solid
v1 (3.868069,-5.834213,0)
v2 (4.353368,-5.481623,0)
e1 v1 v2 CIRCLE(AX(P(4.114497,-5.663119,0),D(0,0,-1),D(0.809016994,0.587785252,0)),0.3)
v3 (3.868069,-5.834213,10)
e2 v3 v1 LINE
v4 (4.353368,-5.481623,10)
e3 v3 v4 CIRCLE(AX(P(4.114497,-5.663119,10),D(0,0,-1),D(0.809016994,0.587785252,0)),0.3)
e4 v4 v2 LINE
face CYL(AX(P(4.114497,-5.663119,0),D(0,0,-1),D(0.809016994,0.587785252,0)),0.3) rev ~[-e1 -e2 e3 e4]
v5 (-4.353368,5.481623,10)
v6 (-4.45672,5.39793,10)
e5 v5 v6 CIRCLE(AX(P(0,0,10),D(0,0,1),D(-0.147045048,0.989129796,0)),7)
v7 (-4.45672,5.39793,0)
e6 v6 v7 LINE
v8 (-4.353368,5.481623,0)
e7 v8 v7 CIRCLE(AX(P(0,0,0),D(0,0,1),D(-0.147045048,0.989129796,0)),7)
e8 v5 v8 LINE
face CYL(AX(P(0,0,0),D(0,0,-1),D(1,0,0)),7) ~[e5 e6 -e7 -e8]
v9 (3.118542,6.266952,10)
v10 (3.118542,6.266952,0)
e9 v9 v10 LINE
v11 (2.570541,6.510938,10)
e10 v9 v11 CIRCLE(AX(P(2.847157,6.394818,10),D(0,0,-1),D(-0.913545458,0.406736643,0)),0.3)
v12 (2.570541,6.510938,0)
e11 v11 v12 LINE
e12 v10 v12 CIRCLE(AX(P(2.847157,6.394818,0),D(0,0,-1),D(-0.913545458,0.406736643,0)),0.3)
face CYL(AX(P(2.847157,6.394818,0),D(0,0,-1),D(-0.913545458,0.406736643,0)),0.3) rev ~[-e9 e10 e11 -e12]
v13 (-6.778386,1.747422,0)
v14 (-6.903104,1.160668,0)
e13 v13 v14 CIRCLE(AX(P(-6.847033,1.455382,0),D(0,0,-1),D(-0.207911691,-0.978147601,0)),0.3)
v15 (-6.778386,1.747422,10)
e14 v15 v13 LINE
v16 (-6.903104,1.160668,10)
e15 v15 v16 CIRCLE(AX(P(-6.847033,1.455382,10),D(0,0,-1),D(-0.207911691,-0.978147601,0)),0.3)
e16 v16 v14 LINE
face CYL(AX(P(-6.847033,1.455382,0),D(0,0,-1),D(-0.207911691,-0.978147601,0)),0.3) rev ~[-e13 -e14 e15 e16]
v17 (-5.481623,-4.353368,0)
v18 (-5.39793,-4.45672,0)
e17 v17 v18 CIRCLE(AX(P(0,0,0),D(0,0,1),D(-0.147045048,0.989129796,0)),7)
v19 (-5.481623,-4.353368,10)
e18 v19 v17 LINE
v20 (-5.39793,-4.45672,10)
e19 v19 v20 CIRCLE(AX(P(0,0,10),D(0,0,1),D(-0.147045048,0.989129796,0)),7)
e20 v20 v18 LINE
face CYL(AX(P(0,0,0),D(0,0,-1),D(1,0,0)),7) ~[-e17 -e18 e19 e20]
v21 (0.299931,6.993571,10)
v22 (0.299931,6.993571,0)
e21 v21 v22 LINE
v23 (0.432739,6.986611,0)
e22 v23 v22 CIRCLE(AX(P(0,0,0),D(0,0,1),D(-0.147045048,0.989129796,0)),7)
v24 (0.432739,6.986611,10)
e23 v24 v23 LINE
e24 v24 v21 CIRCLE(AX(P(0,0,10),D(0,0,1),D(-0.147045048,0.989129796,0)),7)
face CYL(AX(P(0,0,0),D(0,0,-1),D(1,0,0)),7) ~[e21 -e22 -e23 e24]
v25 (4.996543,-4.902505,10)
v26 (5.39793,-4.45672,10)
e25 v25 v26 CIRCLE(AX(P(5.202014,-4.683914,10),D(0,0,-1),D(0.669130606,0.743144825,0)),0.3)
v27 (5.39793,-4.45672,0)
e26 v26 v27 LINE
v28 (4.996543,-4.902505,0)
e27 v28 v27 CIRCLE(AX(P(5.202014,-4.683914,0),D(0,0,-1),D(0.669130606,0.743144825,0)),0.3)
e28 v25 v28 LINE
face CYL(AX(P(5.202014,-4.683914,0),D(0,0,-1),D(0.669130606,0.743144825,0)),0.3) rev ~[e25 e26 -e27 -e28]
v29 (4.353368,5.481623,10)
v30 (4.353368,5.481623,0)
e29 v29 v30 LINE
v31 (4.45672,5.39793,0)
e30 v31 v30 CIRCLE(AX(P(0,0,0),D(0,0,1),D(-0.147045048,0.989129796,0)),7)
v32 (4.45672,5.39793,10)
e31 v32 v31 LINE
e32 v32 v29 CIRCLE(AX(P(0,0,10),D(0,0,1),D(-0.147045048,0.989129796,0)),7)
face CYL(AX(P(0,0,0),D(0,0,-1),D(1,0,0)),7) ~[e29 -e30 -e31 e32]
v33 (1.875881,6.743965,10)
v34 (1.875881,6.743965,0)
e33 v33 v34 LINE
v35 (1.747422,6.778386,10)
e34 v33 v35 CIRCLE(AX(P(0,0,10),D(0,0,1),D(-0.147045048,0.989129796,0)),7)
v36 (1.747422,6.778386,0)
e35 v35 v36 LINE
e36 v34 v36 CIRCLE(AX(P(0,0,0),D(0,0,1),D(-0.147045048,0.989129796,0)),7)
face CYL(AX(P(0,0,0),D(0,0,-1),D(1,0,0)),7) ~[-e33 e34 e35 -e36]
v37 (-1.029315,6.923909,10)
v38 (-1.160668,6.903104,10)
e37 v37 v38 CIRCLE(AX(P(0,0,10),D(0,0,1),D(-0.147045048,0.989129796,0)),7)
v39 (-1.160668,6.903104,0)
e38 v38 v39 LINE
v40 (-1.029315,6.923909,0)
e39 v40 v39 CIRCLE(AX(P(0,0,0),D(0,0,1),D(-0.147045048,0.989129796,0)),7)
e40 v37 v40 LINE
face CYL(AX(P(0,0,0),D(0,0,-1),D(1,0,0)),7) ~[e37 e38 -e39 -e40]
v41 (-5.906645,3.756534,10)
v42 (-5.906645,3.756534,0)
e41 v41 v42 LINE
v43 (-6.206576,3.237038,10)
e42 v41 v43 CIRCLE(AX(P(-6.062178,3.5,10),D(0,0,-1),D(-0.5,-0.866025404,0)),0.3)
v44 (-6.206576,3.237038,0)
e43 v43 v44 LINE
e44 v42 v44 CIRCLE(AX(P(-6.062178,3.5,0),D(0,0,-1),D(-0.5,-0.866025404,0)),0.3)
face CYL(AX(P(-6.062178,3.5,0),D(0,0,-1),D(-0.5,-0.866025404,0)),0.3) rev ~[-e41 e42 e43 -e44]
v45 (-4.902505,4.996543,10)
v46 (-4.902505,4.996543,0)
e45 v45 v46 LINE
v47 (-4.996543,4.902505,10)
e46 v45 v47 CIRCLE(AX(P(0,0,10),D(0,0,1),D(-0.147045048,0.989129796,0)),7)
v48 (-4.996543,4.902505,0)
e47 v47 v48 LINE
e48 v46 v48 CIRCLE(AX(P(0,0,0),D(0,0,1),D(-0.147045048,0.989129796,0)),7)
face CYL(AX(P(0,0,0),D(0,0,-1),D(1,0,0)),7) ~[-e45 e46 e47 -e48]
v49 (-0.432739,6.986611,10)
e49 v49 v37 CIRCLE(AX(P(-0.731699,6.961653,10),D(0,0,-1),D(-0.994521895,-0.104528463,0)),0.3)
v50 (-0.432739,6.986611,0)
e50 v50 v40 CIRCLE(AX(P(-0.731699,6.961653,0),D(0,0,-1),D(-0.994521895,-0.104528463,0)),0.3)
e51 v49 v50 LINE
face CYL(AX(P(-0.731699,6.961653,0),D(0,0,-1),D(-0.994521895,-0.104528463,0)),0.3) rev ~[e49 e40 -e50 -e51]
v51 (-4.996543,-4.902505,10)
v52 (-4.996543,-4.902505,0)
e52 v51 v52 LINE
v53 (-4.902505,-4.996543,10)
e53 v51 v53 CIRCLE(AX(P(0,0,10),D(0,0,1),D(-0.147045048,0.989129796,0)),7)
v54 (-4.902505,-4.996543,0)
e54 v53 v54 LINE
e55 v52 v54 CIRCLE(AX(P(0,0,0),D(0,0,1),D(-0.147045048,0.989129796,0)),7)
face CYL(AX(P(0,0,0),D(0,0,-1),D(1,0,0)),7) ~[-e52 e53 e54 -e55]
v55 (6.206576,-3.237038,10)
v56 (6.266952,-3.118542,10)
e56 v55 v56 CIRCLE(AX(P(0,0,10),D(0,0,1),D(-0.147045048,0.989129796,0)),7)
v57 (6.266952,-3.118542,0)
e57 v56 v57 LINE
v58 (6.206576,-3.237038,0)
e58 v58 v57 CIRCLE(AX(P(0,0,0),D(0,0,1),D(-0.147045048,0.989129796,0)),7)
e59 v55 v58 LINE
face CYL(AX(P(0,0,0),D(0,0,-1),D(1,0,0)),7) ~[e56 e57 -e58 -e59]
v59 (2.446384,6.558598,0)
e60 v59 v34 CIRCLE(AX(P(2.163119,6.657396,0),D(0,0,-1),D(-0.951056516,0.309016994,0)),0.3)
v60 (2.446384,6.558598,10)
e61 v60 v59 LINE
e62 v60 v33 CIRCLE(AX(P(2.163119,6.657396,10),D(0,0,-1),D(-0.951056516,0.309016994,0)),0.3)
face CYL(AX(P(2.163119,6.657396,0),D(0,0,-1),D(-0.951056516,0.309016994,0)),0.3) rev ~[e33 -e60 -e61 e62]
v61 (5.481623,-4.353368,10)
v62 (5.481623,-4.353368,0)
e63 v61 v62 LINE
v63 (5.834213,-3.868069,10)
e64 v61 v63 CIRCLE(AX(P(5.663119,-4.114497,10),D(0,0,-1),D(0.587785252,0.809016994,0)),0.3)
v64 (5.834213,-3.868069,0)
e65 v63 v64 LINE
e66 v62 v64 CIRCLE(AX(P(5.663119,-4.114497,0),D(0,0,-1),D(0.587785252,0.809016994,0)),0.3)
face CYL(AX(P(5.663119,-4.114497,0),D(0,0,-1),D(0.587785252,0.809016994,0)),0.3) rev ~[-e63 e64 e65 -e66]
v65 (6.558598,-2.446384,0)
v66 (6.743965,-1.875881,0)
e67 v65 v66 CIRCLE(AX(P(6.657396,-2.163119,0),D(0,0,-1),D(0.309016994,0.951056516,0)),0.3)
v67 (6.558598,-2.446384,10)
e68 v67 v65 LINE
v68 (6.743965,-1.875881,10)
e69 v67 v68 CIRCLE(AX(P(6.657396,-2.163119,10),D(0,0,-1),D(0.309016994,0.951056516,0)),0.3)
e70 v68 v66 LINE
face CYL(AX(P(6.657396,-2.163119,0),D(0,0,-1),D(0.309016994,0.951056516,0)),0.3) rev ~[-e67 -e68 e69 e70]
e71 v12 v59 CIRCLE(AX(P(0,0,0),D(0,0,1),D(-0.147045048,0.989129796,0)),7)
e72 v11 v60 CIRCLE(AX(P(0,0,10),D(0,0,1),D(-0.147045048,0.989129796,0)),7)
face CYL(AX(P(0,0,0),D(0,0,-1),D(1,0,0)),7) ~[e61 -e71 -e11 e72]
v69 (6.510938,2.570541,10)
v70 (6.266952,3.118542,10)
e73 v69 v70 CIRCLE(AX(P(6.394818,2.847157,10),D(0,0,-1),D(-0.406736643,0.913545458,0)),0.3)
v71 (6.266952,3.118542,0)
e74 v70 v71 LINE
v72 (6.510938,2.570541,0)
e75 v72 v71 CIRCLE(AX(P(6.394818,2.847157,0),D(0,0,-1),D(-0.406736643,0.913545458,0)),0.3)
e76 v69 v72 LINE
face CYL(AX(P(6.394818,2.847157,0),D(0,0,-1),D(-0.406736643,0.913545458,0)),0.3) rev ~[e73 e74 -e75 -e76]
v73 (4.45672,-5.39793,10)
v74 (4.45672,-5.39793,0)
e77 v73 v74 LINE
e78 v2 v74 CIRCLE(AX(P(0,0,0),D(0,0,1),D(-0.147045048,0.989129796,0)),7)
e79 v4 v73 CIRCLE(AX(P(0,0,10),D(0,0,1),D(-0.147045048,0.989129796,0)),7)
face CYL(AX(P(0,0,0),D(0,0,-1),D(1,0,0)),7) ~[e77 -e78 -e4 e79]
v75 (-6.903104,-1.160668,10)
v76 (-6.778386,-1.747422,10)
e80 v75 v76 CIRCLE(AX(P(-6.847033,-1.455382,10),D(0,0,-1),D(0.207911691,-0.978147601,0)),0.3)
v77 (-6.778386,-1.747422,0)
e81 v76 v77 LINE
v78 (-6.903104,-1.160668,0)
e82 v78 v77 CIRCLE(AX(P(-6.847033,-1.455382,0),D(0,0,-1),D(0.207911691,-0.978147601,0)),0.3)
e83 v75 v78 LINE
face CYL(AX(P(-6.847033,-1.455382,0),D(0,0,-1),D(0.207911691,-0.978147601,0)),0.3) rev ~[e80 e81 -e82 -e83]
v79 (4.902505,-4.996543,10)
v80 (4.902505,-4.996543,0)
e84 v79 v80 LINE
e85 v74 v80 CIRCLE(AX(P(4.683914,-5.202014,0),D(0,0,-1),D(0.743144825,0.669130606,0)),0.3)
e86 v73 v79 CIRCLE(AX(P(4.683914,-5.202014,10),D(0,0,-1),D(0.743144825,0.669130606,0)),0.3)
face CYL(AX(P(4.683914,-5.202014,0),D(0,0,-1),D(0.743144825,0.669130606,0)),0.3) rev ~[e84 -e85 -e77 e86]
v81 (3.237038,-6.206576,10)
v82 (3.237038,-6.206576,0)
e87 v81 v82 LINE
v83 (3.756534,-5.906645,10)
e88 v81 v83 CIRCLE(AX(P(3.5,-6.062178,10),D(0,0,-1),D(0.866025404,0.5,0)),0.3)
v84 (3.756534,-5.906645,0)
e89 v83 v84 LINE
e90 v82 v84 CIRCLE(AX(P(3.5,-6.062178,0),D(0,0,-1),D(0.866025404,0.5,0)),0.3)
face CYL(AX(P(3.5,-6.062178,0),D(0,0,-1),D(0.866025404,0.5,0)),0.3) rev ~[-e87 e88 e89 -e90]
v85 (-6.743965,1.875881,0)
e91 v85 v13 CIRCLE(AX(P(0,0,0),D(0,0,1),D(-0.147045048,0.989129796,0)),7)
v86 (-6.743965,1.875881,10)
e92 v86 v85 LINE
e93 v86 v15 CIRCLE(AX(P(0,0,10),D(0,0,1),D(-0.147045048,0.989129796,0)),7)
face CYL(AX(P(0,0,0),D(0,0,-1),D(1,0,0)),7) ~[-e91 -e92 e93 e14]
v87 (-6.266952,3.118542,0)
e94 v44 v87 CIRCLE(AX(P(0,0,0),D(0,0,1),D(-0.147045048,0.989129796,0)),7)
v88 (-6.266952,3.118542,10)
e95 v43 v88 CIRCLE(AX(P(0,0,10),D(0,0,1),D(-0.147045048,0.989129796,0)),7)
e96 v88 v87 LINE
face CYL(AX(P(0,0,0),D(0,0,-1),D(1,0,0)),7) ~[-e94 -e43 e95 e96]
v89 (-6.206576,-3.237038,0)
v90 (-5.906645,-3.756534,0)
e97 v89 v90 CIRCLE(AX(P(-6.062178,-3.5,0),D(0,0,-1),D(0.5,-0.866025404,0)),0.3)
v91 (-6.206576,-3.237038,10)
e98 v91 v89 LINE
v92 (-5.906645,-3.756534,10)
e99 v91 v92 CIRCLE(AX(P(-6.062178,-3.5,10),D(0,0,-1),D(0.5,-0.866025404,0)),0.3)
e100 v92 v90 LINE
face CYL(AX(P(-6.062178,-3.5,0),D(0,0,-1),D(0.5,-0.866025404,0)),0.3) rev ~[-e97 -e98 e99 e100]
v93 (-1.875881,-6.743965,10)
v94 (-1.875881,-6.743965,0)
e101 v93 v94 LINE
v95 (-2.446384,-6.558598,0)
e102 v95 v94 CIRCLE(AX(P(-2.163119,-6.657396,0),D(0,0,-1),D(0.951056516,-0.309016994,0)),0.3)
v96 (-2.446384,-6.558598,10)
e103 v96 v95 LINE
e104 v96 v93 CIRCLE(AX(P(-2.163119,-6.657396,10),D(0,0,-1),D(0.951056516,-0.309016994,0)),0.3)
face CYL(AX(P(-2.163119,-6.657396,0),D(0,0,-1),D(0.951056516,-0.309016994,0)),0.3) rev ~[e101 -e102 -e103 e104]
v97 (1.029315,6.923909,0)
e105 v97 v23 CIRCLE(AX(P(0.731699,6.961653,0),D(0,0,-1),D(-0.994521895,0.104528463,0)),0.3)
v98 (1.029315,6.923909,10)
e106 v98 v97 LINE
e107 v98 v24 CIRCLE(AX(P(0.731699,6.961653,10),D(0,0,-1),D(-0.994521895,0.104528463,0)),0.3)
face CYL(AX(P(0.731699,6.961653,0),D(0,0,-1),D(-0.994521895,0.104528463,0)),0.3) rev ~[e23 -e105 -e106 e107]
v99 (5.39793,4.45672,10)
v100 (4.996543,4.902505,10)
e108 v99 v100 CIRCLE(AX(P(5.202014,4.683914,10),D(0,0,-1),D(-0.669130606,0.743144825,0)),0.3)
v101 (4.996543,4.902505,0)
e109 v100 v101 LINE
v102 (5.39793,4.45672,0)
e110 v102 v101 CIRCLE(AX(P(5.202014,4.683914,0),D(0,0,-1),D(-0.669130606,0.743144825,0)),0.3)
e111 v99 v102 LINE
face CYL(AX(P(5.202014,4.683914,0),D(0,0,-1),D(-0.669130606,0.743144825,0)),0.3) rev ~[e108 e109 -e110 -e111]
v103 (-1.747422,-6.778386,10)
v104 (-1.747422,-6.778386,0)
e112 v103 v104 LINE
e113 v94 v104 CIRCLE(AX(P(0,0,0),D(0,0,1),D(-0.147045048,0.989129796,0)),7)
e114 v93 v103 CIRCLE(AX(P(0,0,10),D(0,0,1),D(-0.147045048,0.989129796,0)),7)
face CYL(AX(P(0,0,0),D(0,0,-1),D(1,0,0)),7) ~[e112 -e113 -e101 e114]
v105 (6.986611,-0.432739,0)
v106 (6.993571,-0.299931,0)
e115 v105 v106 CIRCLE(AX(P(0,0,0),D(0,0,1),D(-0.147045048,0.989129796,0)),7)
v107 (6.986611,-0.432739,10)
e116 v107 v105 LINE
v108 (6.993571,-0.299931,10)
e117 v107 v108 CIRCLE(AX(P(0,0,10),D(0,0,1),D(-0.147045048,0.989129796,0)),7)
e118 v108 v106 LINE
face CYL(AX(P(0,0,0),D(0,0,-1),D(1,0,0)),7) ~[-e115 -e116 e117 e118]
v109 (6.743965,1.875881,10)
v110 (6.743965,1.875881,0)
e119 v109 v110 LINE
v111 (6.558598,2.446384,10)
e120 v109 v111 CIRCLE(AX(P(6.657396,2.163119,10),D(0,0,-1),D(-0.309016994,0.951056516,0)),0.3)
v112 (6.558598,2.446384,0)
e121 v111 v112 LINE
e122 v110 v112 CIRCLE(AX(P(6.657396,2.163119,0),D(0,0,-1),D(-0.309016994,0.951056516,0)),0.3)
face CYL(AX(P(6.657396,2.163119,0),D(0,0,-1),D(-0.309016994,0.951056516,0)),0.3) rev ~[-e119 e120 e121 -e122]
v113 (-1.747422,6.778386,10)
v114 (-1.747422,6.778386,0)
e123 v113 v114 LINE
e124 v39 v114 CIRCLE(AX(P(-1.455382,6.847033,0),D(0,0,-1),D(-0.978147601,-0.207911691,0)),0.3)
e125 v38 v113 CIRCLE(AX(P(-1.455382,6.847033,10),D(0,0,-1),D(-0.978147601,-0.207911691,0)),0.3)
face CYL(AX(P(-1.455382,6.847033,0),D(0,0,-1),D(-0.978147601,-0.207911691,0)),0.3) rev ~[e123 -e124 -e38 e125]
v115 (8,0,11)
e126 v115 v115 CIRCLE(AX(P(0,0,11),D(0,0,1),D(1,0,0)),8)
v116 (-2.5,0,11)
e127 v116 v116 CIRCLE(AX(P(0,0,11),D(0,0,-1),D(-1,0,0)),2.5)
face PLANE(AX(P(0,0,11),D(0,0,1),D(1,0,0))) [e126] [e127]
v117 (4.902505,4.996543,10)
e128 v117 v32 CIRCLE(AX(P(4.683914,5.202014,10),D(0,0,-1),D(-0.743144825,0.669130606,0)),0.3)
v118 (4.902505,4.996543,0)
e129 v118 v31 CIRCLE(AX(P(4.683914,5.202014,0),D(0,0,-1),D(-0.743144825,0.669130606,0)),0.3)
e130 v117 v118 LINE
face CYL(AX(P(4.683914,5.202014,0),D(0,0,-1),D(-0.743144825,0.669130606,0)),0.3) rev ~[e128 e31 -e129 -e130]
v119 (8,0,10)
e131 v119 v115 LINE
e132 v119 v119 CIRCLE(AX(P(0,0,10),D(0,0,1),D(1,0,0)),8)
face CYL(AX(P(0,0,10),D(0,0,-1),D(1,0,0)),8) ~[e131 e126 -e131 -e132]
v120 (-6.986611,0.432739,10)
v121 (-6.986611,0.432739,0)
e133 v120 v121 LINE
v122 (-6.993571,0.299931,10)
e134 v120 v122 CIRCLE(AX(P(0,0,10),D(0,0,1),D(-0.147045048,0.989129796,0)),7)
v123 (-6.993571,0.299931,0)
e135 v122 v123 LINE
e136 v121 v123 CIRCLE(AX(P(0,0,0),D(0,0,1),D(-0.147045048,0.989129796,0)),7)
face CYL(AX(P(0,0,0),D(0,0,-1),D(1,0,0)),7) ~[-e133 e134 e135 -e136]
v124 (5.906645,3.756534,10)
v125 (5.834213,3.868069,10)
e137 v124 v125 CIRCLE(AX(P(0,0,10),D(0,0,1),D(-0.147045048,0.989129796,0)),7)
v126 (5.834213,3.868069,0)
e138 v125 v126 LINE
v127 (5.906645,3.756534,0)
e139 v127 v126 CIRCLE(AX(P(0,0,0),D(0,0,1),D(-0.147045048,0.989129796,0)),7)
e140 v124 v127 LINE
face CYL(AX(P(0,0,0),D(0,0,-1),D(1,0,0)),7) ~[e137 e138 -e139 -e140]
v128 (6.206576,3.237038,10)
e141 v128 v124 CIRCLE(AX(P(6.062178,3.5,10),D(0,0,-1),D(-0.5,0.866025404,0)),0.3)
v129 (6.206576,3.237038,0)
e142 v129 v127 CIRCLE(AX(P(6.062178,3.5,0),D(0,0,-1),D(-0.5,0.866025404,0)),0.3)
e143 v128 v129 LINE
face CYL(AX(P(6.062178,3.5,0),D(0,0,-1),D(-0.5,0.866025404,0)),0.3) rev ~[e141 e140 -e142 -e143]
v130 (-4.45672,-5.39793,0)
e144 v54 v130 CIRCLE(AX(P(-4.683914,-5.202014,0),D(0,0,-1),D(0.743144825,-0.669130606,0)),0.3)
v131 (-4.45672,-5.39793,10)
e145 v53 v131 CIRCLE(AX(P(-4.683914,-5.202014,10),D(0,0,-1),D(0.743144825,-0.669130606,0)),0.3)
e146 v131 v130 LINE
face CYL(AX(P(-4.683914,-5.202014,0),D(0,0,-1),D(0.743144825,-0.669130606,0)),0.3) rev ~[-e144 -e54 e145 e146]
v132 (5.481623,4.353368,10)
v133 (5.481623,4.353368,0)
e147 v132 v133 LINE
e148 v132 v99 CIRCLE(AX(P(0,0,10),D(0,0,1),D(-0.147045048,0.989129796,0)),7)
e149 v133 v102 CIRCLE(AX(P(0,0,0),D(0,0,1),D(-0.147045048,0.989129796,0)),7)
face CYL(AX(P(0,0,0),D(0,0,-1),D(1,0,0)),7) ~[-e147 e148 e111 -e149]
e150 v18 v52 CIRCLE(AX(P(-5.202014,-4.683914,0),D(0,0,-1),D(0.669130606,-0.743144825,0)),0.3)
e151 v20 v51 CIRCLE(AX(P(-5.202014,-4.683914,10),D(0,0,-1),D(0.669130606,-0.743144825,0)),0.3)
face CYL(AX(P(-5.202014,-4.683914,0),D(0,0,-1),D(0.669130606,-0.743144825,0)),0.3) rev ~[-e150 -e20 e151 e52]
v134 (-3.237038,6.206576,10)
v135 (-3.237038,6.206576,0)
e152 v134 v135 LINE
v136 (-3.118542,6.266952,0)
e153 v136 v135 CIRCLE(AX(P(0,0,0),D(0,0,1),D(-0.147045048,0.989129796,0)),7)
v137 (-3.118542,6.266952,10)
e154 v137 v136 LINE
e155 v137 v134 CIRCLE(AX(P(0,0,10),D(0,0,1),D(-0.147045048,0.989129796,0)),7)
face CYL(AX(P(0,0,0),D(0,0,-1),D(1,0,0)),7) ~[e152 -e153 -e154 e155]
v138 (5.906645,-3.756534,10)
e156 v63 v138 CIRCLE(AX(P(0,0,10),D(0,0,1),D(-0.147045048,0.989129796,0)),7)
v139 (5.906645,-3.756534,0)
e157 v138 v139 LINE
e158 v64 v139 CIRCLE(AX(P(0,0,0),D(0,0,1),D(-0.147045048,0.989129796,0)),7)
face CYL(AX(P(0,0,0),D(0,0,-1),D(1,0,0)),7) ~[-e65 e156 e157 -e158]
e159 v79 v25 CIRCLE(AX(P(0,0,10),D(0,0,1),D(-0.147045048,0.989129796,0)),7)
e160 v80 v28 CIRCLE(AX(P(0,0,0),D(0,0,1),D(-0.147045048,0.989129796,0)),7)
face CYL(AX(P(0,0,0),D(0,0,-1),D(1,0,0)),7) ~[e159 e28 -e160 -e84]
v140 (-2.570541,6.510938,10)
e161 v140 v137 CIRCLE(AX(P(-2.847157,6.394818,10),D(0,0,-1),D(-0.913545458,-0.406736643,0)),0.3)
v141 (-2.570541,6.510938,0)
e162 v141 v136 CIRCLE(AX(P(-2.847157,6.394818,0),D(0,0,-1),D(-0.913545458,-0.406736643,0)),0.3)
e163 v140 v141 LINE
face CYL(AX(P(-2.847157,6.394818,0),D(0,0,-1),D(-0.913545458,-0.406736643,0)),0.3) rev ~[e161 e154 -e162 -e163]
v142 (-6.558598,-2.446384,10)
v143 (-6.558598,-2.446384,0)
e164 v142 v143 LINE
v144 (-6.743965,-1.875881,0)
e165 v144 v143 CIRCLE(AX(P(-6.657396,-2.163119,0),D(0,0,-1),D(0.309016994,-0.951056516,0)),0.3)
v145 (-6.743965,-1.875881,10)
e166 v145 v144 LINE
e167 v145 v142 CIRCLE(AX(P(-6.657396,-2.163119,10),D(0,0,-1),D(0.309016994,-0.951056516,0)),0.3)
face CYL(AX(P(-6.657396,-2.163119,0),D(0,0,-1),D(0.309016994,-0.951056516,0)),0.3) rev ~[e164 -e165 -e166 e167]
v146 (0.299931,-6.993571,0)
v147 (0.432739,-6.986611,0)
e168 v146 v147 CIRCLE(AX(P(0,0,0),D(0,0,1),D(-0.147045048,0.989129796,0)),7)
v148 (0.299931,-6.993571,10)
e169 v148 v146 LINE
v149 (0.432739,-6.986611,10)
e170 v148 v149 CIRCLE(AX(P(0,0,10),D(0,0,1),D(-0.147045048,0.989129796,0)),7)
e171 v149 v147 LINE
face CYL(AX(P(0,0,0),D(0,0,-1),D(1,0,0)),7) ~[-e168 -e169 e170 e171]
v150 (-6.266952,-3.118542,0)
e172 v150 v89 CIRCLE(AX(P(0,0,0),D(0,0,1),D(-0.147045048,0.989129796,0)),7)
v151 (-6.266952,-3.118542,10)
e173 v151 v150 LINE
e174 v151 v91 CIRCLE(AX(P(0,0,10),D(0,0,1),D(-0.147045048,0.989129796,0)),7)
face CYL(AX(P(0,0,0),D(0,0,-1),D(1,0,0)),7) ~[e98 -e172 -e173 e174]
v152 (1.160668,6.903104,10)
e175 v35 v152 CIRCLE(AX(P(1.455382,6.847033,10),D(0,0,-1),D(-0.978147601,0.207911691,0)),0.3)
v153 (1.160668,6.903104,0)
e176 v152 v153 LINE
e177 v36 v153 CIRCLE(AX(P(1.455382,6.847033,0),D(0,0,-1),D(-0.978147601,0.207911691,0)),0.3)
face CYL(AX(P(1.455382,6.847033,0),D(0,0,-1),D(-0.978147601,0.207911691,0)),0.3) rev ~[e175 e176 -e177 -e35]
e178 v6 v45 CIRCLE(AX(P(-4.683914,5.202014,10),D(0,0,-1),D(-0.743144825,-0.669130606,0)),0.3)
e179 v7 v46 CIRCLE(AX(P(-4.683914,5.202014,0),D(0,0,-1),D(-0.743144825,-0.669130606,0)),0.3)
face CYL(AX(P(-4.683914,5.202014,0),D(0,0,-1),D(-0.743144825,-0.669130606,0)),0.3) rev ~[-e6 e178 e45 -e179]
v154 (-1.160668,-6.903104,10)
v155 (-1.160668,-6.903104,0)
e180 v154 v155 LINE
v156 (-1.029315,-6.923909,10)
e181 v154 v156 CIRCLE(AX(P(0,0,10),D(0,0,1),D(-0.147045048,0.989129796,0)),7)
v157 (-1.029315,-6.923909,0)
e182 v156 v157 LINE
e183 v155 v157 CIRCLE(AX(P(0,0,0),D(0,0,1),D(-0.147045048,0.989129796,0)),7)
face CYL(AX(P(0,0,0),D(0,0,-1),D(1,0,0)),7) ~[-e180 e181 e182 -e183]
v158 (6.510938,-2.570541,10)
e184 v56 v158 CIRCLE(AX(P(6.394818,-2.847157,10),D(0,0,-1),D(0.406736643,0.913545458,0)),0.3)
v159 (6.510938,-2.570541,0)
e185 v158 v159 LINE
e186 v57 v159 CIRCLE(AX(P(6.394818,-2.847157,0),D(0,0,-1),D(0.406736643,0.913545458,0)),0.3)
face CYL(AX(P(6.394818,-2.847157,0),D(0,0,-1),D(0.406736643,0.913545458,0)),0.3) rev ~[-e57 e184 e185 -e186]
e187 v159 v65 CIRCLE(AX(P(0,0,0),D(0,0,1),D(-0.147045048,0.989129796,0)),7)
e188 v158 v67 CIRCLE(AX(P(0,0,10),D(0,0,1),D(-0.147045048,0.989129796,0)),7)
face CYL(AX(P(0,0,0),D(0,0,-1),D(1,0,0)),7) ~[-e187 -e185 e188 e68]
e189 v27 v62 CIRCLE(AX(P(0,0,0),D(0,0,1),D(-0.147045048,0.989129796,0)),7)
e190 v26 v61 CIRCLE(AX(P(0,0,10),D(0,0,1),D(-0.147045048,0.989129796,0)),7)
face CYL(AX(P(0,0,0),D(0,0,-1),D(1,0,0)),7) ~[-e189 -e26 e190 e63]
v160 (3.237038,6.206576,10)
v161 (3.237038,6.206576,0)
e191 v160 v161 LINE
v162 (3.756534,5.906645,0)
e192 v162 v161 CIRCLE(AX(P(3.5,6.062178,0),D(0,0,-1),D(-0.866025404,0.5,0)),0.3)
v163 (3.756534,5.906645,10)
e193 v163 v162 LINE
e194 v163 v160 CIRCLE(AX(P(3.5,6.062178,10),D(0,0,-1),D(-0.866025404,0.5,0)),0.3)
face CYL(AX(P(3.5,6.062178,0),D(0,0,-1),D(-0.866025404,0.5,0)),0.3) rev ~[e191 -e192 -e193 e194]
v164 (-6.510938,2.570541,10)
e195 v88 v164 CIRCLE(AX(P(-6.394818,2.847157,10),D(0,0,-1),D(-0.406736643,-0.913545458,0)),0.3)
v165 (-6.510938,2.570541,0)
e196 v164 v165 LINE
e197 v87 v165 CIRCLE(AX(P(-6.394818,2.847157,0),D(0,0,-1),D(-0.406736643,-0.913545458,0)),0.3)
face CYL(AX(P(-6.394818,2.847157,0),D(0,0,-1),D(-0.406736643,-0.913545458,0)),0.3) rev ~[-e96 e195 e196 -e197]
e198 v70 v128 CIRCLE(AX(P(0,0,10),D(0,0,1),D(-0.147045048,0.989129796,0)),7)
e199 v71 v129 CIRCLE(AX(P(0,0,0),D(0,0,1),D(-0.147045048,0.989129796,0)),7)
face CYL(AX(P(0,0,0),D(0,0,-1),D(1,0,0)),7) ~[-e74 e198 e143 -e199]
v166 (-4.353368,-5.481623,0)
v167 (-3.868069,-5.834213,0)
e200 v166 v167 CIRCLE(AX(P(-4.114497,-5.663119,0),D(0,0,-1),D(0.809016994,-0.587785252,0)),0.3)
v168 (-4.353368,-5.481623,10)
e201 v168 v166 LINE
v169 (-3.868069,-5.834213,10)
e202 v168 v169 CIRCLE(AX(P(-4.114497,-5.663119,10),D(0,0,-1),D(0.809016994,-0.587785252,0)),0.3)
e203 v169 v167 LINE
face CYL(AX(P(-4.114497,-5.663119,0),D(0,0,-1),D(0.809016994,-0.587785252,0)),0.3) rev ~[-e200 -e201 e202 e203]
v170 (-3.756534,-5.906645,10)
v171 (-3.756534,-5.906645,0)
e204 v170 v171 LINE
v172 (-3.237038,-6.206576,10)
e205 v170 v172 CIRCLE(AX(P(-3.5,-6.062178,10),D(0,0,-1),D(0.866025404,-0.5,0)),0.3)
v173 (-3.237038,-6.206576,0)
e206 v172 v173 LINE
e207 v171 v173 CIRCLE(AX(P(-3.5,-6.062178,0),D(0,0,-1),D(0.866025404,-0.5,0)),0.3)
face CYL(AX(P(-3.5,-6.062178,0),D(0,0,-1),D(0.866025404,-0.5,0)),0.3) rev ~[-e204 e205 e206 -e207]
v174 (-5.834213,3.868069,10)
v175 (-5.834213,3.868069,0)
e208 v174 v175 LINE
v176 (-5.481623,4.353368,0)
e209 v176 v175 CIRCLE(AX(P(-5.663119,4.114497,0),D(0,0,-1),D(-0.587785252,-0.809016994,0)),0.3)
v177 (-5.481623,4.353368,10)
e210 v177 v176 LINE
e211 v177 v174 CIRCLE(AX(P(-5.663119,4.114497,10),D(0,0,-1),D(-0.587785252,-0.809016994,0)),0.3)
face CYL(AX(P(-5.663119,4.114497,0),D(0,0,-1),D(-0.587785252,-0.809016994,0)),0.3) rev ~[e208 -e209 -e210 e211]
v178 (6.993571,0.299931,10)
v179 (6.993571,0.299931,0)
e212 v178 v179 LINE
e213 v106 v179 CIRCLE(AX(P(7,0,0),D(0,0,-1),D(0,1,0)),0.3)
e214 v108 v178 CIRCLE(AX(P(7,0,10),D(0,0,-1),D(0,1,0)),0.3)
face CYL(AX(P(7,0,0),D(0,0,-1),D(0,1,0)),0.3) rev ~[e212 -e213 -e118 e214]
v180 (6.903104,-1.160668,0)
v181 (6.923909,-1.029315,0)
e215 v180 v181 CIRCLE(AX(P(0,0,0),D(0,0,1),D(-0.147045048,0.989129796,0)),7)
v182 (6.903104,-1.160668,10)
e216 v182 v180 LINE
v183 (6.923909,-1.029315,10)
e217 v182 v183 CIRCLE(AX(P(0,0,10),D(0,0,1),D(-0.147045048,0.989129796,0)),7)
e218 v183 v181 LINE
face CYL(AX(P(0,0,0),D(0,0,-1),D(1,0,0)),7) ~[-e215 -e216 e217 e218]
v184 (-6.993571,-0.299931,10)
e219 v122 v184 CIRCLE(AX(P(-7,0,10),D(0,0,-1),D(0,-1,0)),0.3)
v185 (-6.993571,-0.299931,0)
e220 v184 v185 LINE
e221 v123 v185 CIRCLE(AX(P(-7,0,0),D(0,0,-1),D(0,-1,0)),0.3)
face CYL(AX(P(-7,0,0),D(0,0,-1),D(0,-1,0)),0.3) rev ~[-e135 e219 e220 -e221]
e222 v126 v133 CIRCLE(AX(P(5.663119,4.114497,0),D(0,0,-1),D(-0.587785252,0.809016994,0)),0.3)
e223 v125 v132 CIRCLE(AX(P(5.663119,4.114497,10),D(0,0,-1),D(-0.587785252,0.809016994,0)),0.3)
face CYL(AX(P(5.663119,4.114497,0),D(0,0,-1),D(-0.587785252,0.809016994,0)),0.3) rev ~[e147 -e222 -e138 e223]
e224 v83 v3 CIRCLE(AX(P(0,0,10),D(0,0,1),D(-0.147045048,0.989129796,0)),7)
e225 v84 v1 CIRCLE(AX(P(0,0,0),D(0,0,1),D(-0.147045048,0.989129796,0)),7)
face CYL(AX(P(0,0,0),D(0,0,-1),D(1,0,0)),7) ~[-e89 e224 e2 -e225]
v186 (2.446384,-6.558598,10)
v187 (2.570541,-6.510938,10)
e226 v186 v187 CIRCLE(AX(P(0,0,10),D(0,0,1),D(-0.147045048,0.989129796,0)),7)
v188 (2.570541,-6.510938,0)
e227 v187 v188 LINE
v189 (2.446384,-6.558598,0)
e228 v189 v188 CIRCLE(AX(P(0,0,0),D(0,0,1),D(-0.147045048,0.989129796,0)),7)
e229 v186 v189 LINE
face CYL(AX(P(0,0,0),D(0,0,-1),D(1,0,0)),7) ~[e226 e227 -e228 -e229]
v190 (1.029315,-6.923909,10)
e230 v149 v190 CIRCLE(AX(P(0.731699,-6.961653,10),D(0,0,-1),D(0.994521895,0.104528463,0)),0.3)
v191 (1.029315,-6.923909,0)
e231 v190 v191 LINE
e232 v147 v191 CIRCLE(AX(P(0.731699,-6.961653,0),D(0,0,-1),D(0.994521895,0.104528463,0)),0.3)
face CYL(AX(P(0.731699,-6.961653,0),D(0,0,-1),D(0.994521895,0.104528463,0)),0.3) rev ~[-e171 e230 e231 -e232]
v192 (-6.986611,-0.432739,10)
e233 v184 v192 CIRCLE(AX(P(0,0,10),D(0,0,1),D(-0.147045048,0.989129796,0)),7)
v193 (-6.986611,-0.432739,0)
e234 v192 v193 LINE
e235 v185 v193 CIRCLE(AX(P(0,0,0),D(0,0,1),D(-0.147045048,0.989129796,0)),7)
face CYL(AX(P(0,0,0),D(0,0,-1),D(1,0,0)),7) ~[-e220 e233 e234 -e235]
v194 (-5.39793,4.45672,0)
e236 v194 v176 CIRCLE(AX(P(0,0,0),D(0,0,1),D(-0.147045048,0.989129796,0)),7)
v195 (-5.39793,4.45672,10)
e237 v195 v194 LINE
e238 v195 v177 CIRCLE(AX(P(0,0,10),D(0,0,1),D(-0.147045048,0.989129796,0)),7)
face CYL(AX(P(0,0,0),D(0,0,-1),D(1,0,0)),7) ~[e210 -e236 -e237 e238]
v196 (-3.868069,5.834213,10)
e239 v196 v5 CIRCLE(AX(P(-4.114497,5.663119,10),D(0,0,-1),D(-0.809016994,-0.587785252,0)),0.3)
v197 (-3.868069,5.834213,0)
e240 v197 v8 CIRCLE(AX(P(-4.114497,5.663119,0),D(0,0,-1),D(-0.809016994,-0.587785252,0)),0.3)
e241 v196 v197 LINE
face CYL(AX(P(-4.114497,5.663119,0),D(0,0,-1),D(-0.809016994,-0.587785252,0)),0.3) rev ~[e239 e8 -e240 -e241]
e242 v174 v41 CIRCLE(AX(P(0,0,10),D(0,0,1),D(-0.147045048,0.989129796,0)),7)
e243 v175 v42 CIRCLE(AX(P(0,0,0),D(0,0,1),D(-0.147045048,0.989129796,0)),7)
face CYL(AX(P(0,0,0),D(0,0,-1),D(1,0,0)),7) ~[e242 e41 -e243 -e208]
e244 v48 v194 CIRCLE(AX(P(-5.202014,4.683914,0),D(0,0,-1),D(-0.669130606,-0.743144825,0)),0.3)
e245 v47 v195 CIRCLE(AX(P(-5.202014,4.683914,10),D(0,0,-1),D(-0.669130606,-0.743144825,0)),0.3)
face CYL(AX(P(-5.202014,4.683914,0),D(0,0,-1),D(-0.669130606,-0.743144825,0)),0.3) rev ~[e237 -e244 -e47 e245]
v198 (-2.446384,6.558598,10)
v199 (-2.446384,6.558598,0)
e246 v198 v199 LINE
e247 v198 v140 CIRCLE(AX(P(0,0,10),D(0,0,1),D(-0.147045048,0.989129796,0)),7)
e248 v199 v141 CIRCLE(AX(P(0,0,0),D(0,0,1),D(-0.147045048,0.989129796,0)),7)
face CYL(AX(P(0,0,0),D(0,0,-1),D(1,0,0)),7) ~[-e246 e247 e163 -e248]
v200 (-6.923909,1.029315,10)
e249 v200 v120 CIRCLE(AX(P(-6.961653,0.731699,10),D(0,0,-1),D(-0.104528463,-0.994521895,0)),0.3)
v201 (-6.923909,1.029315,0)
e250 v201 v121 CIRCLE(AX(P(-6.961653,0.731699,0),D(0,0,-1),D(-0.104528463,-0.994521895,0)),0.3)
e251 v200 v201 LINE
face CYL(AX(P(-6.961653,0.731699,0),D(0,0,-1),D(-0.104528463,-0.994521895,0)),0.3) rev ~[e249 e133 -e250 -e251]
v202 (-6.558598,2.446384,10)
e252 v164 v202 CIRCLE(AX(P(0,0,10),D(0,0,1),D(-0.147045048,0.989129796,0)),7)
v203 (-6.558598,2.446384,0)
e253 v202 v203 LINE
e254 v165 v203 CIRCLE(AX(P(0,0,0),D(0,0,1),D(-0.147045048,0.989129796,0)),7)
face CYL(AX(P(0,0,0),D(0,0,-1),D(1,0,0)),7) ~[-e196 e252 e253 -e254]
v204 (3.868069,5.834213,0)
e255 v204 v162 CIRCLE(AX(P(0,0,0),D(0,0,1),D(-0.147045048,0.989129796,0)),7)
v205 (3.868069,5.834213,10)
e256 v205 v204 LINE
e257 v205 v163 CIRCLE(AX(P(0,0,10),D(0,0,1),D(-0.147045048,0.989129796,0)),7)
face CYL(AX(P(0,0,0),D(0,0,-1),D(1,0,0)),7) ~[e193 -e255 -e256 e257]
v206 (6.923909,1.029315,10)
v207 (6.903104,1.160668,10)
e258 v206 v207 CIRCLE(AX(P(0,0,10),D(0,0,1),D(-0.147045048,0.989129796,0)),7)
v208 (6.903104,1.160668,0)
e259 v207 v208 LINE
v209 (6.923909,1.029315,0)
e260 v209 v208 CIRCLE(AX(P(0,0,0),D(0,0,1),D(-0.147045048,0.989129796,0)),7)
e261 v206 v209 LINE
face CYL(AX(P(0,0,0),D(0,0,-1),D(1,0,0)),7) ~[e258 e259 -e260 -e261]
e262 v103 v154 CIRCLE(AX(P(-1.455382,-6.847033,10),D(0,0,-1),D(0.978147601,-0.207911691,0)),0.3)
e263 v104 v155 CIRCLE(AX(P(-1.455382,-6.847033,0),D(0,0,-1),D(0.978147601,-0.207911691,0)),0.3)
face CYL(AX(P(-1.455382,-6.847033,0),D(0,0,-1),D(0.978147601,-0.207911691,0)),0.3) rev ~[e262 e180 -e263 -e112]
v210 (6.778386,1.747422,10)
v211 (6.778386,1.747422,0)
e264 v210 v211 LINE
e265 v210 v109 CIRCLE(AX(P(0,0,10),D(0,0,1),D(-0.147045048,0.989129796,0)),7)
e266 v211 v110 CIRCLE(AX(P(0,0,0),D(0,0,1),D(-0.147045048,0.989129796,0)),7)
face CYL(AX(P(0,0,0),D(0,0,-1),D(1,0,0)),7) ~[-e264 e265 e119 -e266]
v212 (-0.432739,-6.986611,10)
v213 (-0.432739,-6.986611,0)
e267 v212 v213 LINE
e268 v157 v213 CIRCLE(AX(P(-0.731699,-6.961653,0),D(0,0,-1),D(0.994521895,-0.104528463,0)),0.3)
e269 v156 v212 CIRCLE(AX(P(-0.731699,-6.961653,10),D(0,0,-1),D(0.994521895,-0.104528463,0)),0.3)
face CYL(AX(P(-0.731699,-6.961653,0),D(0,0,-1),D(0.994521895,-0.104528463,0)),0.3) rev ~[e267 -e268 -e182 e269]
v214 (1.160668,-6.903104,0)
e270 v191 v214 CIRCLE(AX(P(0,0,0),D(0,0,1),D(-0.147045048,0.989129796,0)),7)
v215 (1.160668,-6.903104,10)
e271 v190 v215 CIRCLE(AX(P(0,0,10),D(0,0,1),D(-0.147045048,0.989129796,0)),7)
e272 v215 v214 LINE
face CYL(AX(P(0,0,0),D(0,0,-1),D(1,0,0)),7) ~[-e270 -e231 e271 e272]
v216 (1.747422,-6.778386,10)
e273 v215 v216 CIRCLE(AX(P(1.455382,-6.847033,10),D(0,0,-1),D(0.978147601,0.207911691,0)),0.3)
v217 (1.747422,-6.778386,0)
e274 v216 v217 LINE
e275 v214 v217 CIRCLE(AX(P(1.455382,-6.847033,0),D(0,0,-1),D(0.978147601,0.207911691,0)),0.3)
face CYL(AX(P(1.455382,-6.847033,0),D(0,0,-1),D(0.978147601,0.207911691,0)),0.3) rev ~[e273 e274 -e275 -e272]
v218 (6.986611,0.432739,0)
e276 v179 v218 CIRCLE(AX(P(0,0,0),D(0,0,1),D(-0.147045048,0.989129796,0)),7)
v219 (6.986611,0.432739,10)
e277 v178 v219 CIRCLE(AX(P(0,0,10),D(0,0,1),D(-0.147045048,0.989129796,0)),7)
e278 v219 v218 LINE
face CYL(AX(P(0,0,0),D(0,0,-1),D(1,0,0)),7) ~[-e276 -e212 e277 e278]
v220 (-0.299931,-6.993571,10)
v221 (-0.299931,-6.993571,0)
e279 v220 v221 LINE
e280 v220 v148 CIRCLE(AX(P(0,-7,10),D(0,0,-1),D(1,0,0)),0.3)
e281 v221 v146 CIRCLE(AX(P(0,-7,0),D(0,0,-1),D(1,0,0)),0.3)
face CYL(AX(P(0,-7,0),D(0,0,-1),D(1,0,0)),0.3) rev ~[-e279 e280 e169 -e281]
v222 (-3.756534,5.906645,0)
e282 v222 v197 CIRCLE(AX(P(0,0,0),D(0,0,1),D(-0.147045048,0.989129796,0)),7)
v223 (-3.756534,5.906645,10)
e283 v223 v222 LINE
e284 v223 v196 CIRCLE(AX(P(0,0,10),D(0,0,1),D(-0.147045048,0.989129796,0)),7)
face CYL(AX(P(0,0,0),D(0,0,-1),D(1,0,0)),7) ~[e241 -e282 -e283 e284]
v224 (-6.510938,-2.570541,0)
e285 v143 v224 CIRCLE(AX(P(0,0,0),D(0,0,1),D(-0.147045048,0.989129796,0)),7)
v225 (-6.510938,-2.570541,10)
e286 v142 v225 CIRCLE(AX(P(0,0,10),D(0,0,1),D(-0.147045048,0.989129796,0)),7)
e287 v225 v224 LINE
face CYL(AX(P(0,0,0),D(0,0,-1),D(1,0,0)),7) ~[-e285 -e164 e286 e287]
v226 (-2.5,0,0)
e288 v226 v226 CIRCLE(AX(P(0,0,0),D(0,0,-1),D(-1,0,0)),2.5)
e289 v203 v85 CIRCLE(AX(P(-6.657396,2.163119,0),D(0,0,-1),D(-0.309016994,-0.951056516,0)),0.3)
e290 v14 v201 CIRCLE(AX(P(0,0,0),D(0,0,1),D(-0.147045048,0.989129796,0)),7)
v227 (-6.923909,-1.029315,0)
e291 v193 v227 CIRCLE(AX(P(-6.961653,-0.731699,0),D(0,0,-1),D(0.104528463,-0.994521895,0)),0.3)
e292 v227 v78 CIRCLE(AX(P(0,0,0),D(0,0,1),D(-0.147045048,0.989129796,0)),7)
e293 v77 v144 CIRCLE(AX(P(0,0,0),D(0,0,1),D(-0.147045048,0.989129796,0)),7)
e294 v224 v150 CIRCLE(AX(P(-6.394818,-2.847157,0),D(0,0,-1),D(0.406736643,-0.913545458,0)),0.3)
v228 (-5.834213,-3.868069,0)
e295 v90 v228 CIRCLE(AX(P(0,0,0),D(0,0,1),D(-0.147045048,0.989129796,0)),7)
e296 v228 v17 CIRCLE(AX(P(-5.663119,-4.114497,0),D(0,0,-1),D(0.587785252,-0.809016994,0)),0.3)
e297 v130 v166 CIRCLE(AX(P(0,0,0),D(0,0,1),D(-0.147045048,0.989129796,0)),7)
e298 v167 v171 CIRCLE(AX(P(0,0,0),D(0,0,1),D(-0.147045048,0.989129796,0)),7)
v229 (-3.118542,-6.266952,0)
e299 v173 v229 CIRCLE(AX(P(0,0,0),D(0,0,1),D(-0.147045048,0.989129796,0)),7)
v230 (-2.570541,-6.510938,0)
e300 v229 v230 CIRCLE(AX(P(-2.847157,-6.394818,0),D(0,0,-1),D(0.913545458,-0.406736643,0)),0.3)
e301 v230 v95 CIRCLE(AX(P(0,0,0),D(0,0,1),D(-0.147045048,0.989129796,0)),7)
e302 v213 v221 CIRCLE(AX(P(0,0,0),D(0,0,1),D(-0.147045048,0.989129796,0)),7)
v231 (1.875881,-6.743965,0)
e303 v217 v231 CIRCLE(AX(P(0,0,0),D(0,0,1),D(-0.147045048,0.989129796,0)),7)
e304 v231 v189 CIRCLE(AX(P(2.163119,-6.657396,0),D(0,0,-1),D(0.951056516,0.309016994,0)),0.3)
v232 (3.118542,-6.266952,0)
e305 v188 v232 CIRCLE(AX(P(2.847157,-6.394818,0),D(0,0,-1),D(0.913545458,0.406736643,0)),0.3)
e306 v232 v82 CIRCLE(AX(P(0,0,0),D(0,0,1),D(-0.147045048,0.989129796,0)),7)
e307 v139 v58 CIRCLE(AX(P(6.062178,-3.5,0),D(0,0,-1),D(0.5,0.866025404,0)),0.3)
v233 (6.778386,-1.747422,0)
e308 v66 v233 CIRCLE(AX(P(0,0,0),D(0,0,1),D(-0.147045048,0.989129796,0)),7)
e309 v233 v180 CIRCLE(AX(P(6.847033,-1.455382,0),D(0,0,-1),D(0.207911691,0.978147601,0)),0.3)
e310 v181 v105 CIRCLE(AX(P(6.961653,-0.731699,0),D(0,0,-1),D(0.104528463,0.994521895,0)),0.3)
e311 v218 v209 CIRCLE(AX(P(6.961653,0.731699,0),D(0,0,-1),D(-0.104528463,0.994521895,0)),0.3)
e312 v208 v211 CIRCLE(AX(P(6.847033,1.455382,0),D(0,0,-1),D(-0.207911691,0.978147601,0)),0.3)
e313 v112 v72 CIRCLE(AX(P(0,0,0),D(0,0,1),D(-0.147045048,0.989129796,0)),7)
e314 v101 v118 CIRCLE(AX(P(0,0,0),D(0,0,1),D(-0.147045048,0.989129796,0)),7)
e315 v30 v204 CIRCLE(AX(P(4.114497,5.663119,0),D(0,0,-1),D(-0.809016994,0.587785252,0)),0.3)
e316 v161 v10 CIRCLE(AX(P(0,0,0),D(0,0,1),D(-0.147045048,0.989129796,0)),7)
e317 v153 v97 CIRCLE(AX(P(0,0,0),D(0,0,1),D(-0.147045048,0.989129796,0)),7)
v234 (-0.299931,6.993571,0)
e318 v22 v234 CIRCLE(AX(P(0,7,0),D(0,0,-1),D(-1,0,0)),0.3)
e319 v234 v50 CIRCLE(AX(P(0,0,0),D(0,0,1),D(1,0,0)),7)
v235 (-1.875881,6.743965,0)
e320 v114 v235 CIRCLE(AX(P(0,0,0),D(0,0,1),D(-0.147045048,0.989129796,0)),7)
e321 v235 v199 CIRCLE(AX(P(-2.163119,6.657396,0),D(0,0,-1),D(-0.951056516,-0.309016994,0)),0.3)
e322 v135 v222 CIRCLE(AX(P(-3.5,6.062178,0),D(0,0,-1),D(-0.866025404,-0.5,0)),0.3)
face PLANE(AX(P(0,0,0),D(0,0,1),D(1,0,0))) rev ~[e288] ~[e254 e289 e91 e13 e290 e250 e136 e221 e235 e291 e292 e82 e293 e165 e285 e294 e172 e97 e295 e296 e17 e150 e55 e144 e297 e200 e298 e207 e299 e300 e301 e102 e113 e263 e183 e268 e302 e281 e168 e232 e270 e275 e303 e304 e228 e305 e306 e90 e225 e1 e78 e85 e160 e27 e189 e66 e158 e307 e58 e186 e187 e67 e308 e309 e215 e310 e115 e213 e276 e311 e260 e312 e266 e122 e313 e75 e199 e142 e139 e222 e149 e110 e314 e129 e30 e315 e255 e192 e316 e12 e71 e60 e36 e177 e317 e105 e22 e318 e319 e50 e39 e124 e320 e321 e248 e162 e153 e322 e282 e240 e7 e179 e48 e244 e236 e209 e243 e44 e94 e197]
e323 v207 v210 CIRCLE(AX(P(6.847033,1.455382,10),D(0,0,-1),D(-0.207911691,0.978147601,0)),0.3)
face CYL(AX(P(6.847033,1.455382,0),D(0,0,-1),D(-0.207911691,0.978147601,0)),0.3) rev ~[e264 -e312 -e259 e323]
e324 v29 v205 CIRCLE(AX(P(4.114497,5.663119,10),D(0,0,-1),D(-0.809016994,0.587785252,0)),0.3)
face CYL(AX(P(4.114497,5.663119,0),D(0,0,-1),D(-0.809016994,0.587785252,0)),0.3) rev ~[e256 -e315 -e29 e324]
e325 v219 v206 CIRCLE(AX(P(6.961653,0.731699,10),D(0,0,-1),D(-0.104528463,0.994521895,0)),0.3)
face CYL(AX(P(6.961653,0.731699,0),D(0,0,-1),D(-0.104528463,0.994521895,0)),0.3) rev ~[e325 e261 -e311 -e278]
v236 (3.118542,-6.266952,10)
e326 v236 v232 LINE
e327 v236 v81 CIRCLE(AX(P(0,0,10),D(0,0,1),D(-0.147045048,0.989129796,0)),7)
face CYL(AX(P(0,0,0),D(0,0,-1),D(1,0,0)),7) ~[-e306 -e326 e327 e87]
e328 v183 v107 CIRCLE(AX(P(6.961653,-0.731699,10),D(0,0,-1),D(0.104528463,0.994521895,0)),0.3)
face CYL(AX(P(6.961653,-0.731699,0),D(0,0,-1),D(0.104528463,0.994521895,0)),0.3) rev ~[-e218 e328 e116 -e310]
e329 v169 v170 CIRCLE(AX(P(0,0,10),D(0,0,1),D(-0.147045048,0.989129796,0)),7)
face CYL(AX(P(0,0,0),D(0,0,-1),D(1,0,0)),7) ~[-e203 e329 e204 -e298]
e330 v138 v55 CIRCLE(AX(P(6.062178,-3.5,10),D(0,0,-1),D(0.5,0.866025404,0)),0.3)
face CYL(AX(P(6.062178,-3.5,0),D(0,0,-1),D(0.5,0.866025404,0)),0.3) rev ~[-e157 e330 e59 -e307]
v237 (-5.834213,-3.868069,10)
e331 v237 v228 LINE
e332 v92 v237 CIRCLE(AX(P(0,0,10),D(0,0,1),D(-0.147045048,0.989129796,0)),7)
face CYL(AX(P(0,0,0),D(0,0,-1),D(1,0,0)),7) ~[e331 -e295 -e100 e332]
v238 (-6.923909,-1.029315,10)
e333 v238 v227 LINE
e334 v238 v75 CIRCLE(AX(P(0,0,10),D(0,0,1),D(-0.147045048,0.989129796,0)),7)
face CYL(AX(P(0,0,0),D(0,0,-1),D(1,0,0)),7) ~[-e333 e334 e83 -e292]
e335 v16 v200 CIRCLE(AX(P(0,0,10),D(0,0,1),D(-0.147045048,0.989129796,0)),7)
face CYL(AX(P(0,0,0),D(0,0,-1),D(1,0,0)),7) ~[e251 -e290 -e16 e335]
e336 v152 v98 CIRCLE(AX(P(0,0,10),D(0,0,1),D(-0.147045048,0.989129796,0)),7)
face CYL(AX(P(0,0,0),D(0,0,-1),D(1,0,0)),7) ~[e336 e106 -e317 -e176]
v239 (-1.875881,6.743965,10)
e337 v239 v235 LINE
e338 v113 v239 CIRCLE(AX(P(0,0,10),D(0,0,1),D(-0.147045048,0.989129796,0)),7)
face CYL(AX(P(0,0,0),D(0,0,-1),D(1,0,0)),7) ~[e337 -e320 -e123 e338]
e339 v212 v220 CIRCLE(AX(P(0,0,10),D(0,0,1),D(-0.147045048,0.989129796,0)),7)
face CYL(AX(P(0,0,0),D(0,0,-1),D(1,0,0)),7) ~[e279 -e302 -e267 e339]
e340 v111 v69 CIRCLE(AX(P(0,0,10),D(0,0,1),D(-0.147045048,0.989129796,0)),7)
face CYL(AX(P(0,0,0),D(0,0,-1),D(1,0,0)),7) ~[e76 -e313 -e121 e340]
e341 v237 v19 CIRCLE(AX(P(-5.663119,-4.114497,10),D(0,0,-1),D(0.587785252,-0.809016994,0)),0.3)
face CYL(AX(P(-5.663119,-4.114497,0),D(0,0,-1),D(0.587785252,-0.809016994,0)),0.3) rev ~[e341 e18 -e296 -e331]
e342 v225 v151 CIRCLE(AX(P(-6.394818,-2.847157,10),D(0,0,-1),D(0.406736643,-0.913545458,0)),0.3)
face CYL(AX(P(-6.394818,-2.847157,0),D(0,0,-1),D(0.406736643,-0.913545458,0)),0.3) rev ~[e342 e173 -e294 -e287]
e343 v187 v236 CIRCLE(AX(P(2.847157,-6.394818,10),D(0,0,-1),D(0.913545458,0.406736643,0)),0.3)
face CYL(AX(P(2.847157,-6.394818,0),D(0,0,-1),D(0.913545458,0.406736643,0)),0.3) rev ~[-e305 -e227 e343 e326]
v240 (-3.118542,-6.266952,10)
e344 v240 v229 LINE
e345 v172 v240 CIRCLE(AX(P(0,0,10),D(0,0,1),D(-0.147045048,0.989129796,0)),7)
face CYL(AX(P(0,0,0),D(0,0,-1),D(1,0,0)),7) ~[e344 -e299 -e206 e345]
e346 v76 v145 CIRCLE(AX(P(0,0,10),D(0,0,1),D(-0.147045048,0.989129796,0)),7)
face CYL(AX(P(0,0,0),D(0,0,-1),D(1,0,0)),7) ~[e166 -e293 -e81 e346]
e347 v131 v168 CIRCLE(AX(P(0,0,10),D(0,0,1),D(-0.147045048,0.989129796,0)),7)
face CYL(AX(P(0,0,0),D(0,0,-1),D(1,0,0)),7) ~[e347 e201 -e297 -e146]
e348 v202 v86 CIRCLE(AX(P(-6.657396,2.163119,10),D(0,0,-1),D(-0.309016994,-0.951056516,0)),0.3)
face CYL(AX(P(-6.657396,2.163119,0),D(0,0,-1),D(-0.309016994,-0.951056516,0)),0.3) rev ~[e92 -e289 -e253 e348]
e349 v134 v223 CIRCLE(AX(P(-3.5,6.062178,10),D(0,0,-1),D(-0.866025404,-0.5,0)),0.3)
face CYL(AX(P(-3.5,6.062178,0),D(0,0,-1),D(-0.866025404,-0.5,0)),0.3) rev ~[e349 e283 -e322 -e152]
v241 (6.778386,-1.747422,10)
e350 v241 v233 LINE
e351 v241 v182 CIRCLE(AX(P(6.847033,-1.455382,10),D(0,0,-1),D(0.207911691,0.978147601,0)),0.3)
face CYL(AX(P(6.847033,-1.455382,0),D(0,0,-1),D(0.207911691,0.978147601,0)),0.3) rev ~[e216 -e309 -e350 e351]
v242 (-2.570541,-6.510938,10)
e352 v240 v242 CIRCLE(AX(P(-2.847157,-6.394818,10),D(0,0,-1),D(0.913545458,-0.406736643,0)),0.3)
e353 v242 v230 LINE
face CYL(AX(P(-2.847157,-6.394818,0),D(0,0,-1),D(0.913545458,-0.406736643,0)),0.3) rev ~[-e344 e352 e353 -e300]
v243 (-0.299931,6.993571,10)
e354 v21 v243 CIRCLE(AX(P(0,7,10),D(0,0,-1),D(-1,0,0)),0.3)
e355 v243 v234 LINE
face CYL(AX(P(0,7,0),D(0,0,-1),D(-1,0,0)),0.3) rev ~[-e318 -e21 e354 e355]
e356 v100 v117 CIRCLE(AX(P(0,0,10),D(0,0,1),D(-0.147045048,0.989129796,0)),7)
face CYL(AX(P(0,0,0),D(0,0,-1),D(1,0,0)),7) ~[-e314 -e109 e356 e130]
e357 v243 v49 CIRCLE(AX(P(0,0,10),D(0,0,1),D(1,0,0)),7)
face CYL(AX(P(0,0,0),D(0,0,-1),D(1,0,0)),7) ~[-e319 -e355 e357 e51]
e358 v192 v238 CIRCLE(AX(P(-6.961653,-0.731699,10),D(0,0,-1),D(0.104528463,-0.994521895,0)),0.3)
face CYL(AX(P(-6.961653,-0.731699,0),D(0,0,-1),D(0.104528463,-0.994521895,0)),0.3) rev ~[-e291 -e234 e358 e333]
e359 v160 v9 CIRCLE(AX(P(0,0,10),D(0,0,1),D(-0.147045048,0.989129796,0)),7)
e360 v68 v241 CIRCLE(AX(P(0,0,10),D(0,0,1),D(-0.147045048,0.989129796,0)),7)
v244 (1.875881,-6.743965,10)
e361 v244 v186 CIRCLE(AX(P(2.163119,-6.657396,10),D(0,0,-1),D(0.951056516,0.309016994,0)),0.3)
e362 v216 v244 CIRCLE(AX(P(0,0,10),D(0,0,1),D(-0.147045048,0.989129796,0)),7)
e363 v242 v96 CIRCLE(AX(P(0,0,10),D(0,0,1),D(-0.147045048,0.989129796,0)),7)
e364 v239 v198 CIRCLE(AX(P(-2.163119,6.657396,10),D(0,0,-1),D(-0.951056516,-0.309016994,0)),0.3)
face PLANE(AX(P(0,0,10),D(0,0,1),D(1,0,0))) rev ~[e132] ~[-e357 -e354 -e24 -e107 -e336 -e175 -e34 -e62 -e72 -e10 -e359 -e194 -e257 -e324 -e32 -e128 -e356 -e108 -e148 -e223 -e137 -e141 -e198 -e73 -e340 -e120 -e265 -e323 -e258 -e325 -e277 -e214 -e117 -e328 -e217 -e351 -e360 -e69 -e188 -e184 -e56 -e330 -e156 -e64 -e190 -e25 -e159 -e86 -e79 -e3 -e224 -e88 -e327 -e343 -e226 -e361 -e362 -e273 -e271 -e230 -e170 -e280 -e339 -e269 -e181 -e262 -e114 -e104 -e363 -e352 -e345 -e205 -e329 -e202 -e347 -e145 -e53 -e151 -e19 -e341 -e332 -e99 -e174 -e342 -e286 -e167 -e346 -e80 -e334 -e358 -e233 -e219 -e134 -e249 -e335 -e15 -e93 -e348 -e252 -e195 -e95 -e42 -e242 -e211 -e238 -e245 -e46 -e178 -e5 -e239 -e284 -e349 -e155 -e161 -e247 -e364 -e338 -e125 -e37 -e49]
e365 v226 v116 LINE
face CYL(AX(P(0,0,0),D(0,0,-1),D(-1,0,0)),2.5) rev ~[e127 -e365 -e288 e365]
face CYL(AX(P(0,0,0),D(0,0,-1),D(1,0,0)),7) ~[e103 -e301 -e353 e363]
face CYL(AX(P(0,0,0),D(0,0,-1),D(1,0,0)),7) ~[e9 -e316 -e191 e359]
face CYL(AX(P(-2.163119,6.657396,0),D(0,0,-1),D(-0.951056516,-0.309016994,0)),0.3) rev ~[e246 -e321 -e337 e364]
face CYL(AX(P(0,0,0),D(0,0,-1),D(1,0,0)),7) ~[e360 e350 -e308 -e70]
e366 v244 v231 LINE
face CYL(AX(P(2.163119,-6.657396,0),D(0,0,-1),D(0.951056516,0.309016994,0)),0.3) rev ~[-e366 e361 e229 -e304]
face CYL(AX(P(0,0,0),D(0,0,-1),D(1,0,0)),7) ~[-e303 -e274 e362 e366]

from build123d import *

# Parameters (mm, degrees)
SKETCH1_R           = 7
BOSS_EXTRUDE1_DEPTH = 10
SKETCH2_R           = 8
BOSS_EXTRUDE2_DEPTH = 1
SKETCH3_R           = 2.5
CUT_EXTRUDE1_DEPTH  = 17
SKETCH4_R           = 0.3
CUT_EXTRUDE2_DEPTH  = 10
CIRPATTERN1_COUNT   = 60


with BuildPart() as part:
    # Sketch1 → Boss-Extrude1 (new body)
    with BuildSketch(Plane.XY):
        Circle(SKETCH1_R)
    extrude(amount=BOSS_EXTRUDE1_DEPTH)

    # Sketch2 → Boss-Extrude2 (add)
    with BuildSketch(Plane.XY.offset(10)):
        Circle(SKETCH2_R)
    extrude(amount=BOSS_EXTRUDE2_DEPTH)

    # Sketch3 → Cut-Extrude1 (cut)
    with BuildSketch(Plane(origin=(0, 0, 0), x_dir=(-1, 0, 0), z_dir=(0, 0, -1))):
        Circle(SKETCH3_R)
    extrude(amount=-CUT_EXTRUDE1_DEPTH, mode=Mode.SUBTRACT)

    # Sketch4 → Cut-Extrude2 (cut)
    with BuildSketch(Plane(origin=(0, 0, 0), x_dir=(-1, 0, 0), z_dir=(0, 0, -1))):
        with Locations((0, 7)):
            Circle(SKETCH4_R)
    cut_extrude2 = extrude(amount=-CUT_EXTRUDE2_DEPTH, mode=Mode.SUBTRACT)

    # CirPattern1: Cut-Extrude2 ×60 about axis
    cirpattern1_axis = Axis((0, 0, 0), (0, 0, 1))
    for i in range(1, CIRPATTERN1_COUNT):
        add(cut_extrude2.rotate(cirpattern1_axis, i * 360 / CIRPATTERN1_COUNT), mode=Mode.SUBTRACT)


solid = part.part
